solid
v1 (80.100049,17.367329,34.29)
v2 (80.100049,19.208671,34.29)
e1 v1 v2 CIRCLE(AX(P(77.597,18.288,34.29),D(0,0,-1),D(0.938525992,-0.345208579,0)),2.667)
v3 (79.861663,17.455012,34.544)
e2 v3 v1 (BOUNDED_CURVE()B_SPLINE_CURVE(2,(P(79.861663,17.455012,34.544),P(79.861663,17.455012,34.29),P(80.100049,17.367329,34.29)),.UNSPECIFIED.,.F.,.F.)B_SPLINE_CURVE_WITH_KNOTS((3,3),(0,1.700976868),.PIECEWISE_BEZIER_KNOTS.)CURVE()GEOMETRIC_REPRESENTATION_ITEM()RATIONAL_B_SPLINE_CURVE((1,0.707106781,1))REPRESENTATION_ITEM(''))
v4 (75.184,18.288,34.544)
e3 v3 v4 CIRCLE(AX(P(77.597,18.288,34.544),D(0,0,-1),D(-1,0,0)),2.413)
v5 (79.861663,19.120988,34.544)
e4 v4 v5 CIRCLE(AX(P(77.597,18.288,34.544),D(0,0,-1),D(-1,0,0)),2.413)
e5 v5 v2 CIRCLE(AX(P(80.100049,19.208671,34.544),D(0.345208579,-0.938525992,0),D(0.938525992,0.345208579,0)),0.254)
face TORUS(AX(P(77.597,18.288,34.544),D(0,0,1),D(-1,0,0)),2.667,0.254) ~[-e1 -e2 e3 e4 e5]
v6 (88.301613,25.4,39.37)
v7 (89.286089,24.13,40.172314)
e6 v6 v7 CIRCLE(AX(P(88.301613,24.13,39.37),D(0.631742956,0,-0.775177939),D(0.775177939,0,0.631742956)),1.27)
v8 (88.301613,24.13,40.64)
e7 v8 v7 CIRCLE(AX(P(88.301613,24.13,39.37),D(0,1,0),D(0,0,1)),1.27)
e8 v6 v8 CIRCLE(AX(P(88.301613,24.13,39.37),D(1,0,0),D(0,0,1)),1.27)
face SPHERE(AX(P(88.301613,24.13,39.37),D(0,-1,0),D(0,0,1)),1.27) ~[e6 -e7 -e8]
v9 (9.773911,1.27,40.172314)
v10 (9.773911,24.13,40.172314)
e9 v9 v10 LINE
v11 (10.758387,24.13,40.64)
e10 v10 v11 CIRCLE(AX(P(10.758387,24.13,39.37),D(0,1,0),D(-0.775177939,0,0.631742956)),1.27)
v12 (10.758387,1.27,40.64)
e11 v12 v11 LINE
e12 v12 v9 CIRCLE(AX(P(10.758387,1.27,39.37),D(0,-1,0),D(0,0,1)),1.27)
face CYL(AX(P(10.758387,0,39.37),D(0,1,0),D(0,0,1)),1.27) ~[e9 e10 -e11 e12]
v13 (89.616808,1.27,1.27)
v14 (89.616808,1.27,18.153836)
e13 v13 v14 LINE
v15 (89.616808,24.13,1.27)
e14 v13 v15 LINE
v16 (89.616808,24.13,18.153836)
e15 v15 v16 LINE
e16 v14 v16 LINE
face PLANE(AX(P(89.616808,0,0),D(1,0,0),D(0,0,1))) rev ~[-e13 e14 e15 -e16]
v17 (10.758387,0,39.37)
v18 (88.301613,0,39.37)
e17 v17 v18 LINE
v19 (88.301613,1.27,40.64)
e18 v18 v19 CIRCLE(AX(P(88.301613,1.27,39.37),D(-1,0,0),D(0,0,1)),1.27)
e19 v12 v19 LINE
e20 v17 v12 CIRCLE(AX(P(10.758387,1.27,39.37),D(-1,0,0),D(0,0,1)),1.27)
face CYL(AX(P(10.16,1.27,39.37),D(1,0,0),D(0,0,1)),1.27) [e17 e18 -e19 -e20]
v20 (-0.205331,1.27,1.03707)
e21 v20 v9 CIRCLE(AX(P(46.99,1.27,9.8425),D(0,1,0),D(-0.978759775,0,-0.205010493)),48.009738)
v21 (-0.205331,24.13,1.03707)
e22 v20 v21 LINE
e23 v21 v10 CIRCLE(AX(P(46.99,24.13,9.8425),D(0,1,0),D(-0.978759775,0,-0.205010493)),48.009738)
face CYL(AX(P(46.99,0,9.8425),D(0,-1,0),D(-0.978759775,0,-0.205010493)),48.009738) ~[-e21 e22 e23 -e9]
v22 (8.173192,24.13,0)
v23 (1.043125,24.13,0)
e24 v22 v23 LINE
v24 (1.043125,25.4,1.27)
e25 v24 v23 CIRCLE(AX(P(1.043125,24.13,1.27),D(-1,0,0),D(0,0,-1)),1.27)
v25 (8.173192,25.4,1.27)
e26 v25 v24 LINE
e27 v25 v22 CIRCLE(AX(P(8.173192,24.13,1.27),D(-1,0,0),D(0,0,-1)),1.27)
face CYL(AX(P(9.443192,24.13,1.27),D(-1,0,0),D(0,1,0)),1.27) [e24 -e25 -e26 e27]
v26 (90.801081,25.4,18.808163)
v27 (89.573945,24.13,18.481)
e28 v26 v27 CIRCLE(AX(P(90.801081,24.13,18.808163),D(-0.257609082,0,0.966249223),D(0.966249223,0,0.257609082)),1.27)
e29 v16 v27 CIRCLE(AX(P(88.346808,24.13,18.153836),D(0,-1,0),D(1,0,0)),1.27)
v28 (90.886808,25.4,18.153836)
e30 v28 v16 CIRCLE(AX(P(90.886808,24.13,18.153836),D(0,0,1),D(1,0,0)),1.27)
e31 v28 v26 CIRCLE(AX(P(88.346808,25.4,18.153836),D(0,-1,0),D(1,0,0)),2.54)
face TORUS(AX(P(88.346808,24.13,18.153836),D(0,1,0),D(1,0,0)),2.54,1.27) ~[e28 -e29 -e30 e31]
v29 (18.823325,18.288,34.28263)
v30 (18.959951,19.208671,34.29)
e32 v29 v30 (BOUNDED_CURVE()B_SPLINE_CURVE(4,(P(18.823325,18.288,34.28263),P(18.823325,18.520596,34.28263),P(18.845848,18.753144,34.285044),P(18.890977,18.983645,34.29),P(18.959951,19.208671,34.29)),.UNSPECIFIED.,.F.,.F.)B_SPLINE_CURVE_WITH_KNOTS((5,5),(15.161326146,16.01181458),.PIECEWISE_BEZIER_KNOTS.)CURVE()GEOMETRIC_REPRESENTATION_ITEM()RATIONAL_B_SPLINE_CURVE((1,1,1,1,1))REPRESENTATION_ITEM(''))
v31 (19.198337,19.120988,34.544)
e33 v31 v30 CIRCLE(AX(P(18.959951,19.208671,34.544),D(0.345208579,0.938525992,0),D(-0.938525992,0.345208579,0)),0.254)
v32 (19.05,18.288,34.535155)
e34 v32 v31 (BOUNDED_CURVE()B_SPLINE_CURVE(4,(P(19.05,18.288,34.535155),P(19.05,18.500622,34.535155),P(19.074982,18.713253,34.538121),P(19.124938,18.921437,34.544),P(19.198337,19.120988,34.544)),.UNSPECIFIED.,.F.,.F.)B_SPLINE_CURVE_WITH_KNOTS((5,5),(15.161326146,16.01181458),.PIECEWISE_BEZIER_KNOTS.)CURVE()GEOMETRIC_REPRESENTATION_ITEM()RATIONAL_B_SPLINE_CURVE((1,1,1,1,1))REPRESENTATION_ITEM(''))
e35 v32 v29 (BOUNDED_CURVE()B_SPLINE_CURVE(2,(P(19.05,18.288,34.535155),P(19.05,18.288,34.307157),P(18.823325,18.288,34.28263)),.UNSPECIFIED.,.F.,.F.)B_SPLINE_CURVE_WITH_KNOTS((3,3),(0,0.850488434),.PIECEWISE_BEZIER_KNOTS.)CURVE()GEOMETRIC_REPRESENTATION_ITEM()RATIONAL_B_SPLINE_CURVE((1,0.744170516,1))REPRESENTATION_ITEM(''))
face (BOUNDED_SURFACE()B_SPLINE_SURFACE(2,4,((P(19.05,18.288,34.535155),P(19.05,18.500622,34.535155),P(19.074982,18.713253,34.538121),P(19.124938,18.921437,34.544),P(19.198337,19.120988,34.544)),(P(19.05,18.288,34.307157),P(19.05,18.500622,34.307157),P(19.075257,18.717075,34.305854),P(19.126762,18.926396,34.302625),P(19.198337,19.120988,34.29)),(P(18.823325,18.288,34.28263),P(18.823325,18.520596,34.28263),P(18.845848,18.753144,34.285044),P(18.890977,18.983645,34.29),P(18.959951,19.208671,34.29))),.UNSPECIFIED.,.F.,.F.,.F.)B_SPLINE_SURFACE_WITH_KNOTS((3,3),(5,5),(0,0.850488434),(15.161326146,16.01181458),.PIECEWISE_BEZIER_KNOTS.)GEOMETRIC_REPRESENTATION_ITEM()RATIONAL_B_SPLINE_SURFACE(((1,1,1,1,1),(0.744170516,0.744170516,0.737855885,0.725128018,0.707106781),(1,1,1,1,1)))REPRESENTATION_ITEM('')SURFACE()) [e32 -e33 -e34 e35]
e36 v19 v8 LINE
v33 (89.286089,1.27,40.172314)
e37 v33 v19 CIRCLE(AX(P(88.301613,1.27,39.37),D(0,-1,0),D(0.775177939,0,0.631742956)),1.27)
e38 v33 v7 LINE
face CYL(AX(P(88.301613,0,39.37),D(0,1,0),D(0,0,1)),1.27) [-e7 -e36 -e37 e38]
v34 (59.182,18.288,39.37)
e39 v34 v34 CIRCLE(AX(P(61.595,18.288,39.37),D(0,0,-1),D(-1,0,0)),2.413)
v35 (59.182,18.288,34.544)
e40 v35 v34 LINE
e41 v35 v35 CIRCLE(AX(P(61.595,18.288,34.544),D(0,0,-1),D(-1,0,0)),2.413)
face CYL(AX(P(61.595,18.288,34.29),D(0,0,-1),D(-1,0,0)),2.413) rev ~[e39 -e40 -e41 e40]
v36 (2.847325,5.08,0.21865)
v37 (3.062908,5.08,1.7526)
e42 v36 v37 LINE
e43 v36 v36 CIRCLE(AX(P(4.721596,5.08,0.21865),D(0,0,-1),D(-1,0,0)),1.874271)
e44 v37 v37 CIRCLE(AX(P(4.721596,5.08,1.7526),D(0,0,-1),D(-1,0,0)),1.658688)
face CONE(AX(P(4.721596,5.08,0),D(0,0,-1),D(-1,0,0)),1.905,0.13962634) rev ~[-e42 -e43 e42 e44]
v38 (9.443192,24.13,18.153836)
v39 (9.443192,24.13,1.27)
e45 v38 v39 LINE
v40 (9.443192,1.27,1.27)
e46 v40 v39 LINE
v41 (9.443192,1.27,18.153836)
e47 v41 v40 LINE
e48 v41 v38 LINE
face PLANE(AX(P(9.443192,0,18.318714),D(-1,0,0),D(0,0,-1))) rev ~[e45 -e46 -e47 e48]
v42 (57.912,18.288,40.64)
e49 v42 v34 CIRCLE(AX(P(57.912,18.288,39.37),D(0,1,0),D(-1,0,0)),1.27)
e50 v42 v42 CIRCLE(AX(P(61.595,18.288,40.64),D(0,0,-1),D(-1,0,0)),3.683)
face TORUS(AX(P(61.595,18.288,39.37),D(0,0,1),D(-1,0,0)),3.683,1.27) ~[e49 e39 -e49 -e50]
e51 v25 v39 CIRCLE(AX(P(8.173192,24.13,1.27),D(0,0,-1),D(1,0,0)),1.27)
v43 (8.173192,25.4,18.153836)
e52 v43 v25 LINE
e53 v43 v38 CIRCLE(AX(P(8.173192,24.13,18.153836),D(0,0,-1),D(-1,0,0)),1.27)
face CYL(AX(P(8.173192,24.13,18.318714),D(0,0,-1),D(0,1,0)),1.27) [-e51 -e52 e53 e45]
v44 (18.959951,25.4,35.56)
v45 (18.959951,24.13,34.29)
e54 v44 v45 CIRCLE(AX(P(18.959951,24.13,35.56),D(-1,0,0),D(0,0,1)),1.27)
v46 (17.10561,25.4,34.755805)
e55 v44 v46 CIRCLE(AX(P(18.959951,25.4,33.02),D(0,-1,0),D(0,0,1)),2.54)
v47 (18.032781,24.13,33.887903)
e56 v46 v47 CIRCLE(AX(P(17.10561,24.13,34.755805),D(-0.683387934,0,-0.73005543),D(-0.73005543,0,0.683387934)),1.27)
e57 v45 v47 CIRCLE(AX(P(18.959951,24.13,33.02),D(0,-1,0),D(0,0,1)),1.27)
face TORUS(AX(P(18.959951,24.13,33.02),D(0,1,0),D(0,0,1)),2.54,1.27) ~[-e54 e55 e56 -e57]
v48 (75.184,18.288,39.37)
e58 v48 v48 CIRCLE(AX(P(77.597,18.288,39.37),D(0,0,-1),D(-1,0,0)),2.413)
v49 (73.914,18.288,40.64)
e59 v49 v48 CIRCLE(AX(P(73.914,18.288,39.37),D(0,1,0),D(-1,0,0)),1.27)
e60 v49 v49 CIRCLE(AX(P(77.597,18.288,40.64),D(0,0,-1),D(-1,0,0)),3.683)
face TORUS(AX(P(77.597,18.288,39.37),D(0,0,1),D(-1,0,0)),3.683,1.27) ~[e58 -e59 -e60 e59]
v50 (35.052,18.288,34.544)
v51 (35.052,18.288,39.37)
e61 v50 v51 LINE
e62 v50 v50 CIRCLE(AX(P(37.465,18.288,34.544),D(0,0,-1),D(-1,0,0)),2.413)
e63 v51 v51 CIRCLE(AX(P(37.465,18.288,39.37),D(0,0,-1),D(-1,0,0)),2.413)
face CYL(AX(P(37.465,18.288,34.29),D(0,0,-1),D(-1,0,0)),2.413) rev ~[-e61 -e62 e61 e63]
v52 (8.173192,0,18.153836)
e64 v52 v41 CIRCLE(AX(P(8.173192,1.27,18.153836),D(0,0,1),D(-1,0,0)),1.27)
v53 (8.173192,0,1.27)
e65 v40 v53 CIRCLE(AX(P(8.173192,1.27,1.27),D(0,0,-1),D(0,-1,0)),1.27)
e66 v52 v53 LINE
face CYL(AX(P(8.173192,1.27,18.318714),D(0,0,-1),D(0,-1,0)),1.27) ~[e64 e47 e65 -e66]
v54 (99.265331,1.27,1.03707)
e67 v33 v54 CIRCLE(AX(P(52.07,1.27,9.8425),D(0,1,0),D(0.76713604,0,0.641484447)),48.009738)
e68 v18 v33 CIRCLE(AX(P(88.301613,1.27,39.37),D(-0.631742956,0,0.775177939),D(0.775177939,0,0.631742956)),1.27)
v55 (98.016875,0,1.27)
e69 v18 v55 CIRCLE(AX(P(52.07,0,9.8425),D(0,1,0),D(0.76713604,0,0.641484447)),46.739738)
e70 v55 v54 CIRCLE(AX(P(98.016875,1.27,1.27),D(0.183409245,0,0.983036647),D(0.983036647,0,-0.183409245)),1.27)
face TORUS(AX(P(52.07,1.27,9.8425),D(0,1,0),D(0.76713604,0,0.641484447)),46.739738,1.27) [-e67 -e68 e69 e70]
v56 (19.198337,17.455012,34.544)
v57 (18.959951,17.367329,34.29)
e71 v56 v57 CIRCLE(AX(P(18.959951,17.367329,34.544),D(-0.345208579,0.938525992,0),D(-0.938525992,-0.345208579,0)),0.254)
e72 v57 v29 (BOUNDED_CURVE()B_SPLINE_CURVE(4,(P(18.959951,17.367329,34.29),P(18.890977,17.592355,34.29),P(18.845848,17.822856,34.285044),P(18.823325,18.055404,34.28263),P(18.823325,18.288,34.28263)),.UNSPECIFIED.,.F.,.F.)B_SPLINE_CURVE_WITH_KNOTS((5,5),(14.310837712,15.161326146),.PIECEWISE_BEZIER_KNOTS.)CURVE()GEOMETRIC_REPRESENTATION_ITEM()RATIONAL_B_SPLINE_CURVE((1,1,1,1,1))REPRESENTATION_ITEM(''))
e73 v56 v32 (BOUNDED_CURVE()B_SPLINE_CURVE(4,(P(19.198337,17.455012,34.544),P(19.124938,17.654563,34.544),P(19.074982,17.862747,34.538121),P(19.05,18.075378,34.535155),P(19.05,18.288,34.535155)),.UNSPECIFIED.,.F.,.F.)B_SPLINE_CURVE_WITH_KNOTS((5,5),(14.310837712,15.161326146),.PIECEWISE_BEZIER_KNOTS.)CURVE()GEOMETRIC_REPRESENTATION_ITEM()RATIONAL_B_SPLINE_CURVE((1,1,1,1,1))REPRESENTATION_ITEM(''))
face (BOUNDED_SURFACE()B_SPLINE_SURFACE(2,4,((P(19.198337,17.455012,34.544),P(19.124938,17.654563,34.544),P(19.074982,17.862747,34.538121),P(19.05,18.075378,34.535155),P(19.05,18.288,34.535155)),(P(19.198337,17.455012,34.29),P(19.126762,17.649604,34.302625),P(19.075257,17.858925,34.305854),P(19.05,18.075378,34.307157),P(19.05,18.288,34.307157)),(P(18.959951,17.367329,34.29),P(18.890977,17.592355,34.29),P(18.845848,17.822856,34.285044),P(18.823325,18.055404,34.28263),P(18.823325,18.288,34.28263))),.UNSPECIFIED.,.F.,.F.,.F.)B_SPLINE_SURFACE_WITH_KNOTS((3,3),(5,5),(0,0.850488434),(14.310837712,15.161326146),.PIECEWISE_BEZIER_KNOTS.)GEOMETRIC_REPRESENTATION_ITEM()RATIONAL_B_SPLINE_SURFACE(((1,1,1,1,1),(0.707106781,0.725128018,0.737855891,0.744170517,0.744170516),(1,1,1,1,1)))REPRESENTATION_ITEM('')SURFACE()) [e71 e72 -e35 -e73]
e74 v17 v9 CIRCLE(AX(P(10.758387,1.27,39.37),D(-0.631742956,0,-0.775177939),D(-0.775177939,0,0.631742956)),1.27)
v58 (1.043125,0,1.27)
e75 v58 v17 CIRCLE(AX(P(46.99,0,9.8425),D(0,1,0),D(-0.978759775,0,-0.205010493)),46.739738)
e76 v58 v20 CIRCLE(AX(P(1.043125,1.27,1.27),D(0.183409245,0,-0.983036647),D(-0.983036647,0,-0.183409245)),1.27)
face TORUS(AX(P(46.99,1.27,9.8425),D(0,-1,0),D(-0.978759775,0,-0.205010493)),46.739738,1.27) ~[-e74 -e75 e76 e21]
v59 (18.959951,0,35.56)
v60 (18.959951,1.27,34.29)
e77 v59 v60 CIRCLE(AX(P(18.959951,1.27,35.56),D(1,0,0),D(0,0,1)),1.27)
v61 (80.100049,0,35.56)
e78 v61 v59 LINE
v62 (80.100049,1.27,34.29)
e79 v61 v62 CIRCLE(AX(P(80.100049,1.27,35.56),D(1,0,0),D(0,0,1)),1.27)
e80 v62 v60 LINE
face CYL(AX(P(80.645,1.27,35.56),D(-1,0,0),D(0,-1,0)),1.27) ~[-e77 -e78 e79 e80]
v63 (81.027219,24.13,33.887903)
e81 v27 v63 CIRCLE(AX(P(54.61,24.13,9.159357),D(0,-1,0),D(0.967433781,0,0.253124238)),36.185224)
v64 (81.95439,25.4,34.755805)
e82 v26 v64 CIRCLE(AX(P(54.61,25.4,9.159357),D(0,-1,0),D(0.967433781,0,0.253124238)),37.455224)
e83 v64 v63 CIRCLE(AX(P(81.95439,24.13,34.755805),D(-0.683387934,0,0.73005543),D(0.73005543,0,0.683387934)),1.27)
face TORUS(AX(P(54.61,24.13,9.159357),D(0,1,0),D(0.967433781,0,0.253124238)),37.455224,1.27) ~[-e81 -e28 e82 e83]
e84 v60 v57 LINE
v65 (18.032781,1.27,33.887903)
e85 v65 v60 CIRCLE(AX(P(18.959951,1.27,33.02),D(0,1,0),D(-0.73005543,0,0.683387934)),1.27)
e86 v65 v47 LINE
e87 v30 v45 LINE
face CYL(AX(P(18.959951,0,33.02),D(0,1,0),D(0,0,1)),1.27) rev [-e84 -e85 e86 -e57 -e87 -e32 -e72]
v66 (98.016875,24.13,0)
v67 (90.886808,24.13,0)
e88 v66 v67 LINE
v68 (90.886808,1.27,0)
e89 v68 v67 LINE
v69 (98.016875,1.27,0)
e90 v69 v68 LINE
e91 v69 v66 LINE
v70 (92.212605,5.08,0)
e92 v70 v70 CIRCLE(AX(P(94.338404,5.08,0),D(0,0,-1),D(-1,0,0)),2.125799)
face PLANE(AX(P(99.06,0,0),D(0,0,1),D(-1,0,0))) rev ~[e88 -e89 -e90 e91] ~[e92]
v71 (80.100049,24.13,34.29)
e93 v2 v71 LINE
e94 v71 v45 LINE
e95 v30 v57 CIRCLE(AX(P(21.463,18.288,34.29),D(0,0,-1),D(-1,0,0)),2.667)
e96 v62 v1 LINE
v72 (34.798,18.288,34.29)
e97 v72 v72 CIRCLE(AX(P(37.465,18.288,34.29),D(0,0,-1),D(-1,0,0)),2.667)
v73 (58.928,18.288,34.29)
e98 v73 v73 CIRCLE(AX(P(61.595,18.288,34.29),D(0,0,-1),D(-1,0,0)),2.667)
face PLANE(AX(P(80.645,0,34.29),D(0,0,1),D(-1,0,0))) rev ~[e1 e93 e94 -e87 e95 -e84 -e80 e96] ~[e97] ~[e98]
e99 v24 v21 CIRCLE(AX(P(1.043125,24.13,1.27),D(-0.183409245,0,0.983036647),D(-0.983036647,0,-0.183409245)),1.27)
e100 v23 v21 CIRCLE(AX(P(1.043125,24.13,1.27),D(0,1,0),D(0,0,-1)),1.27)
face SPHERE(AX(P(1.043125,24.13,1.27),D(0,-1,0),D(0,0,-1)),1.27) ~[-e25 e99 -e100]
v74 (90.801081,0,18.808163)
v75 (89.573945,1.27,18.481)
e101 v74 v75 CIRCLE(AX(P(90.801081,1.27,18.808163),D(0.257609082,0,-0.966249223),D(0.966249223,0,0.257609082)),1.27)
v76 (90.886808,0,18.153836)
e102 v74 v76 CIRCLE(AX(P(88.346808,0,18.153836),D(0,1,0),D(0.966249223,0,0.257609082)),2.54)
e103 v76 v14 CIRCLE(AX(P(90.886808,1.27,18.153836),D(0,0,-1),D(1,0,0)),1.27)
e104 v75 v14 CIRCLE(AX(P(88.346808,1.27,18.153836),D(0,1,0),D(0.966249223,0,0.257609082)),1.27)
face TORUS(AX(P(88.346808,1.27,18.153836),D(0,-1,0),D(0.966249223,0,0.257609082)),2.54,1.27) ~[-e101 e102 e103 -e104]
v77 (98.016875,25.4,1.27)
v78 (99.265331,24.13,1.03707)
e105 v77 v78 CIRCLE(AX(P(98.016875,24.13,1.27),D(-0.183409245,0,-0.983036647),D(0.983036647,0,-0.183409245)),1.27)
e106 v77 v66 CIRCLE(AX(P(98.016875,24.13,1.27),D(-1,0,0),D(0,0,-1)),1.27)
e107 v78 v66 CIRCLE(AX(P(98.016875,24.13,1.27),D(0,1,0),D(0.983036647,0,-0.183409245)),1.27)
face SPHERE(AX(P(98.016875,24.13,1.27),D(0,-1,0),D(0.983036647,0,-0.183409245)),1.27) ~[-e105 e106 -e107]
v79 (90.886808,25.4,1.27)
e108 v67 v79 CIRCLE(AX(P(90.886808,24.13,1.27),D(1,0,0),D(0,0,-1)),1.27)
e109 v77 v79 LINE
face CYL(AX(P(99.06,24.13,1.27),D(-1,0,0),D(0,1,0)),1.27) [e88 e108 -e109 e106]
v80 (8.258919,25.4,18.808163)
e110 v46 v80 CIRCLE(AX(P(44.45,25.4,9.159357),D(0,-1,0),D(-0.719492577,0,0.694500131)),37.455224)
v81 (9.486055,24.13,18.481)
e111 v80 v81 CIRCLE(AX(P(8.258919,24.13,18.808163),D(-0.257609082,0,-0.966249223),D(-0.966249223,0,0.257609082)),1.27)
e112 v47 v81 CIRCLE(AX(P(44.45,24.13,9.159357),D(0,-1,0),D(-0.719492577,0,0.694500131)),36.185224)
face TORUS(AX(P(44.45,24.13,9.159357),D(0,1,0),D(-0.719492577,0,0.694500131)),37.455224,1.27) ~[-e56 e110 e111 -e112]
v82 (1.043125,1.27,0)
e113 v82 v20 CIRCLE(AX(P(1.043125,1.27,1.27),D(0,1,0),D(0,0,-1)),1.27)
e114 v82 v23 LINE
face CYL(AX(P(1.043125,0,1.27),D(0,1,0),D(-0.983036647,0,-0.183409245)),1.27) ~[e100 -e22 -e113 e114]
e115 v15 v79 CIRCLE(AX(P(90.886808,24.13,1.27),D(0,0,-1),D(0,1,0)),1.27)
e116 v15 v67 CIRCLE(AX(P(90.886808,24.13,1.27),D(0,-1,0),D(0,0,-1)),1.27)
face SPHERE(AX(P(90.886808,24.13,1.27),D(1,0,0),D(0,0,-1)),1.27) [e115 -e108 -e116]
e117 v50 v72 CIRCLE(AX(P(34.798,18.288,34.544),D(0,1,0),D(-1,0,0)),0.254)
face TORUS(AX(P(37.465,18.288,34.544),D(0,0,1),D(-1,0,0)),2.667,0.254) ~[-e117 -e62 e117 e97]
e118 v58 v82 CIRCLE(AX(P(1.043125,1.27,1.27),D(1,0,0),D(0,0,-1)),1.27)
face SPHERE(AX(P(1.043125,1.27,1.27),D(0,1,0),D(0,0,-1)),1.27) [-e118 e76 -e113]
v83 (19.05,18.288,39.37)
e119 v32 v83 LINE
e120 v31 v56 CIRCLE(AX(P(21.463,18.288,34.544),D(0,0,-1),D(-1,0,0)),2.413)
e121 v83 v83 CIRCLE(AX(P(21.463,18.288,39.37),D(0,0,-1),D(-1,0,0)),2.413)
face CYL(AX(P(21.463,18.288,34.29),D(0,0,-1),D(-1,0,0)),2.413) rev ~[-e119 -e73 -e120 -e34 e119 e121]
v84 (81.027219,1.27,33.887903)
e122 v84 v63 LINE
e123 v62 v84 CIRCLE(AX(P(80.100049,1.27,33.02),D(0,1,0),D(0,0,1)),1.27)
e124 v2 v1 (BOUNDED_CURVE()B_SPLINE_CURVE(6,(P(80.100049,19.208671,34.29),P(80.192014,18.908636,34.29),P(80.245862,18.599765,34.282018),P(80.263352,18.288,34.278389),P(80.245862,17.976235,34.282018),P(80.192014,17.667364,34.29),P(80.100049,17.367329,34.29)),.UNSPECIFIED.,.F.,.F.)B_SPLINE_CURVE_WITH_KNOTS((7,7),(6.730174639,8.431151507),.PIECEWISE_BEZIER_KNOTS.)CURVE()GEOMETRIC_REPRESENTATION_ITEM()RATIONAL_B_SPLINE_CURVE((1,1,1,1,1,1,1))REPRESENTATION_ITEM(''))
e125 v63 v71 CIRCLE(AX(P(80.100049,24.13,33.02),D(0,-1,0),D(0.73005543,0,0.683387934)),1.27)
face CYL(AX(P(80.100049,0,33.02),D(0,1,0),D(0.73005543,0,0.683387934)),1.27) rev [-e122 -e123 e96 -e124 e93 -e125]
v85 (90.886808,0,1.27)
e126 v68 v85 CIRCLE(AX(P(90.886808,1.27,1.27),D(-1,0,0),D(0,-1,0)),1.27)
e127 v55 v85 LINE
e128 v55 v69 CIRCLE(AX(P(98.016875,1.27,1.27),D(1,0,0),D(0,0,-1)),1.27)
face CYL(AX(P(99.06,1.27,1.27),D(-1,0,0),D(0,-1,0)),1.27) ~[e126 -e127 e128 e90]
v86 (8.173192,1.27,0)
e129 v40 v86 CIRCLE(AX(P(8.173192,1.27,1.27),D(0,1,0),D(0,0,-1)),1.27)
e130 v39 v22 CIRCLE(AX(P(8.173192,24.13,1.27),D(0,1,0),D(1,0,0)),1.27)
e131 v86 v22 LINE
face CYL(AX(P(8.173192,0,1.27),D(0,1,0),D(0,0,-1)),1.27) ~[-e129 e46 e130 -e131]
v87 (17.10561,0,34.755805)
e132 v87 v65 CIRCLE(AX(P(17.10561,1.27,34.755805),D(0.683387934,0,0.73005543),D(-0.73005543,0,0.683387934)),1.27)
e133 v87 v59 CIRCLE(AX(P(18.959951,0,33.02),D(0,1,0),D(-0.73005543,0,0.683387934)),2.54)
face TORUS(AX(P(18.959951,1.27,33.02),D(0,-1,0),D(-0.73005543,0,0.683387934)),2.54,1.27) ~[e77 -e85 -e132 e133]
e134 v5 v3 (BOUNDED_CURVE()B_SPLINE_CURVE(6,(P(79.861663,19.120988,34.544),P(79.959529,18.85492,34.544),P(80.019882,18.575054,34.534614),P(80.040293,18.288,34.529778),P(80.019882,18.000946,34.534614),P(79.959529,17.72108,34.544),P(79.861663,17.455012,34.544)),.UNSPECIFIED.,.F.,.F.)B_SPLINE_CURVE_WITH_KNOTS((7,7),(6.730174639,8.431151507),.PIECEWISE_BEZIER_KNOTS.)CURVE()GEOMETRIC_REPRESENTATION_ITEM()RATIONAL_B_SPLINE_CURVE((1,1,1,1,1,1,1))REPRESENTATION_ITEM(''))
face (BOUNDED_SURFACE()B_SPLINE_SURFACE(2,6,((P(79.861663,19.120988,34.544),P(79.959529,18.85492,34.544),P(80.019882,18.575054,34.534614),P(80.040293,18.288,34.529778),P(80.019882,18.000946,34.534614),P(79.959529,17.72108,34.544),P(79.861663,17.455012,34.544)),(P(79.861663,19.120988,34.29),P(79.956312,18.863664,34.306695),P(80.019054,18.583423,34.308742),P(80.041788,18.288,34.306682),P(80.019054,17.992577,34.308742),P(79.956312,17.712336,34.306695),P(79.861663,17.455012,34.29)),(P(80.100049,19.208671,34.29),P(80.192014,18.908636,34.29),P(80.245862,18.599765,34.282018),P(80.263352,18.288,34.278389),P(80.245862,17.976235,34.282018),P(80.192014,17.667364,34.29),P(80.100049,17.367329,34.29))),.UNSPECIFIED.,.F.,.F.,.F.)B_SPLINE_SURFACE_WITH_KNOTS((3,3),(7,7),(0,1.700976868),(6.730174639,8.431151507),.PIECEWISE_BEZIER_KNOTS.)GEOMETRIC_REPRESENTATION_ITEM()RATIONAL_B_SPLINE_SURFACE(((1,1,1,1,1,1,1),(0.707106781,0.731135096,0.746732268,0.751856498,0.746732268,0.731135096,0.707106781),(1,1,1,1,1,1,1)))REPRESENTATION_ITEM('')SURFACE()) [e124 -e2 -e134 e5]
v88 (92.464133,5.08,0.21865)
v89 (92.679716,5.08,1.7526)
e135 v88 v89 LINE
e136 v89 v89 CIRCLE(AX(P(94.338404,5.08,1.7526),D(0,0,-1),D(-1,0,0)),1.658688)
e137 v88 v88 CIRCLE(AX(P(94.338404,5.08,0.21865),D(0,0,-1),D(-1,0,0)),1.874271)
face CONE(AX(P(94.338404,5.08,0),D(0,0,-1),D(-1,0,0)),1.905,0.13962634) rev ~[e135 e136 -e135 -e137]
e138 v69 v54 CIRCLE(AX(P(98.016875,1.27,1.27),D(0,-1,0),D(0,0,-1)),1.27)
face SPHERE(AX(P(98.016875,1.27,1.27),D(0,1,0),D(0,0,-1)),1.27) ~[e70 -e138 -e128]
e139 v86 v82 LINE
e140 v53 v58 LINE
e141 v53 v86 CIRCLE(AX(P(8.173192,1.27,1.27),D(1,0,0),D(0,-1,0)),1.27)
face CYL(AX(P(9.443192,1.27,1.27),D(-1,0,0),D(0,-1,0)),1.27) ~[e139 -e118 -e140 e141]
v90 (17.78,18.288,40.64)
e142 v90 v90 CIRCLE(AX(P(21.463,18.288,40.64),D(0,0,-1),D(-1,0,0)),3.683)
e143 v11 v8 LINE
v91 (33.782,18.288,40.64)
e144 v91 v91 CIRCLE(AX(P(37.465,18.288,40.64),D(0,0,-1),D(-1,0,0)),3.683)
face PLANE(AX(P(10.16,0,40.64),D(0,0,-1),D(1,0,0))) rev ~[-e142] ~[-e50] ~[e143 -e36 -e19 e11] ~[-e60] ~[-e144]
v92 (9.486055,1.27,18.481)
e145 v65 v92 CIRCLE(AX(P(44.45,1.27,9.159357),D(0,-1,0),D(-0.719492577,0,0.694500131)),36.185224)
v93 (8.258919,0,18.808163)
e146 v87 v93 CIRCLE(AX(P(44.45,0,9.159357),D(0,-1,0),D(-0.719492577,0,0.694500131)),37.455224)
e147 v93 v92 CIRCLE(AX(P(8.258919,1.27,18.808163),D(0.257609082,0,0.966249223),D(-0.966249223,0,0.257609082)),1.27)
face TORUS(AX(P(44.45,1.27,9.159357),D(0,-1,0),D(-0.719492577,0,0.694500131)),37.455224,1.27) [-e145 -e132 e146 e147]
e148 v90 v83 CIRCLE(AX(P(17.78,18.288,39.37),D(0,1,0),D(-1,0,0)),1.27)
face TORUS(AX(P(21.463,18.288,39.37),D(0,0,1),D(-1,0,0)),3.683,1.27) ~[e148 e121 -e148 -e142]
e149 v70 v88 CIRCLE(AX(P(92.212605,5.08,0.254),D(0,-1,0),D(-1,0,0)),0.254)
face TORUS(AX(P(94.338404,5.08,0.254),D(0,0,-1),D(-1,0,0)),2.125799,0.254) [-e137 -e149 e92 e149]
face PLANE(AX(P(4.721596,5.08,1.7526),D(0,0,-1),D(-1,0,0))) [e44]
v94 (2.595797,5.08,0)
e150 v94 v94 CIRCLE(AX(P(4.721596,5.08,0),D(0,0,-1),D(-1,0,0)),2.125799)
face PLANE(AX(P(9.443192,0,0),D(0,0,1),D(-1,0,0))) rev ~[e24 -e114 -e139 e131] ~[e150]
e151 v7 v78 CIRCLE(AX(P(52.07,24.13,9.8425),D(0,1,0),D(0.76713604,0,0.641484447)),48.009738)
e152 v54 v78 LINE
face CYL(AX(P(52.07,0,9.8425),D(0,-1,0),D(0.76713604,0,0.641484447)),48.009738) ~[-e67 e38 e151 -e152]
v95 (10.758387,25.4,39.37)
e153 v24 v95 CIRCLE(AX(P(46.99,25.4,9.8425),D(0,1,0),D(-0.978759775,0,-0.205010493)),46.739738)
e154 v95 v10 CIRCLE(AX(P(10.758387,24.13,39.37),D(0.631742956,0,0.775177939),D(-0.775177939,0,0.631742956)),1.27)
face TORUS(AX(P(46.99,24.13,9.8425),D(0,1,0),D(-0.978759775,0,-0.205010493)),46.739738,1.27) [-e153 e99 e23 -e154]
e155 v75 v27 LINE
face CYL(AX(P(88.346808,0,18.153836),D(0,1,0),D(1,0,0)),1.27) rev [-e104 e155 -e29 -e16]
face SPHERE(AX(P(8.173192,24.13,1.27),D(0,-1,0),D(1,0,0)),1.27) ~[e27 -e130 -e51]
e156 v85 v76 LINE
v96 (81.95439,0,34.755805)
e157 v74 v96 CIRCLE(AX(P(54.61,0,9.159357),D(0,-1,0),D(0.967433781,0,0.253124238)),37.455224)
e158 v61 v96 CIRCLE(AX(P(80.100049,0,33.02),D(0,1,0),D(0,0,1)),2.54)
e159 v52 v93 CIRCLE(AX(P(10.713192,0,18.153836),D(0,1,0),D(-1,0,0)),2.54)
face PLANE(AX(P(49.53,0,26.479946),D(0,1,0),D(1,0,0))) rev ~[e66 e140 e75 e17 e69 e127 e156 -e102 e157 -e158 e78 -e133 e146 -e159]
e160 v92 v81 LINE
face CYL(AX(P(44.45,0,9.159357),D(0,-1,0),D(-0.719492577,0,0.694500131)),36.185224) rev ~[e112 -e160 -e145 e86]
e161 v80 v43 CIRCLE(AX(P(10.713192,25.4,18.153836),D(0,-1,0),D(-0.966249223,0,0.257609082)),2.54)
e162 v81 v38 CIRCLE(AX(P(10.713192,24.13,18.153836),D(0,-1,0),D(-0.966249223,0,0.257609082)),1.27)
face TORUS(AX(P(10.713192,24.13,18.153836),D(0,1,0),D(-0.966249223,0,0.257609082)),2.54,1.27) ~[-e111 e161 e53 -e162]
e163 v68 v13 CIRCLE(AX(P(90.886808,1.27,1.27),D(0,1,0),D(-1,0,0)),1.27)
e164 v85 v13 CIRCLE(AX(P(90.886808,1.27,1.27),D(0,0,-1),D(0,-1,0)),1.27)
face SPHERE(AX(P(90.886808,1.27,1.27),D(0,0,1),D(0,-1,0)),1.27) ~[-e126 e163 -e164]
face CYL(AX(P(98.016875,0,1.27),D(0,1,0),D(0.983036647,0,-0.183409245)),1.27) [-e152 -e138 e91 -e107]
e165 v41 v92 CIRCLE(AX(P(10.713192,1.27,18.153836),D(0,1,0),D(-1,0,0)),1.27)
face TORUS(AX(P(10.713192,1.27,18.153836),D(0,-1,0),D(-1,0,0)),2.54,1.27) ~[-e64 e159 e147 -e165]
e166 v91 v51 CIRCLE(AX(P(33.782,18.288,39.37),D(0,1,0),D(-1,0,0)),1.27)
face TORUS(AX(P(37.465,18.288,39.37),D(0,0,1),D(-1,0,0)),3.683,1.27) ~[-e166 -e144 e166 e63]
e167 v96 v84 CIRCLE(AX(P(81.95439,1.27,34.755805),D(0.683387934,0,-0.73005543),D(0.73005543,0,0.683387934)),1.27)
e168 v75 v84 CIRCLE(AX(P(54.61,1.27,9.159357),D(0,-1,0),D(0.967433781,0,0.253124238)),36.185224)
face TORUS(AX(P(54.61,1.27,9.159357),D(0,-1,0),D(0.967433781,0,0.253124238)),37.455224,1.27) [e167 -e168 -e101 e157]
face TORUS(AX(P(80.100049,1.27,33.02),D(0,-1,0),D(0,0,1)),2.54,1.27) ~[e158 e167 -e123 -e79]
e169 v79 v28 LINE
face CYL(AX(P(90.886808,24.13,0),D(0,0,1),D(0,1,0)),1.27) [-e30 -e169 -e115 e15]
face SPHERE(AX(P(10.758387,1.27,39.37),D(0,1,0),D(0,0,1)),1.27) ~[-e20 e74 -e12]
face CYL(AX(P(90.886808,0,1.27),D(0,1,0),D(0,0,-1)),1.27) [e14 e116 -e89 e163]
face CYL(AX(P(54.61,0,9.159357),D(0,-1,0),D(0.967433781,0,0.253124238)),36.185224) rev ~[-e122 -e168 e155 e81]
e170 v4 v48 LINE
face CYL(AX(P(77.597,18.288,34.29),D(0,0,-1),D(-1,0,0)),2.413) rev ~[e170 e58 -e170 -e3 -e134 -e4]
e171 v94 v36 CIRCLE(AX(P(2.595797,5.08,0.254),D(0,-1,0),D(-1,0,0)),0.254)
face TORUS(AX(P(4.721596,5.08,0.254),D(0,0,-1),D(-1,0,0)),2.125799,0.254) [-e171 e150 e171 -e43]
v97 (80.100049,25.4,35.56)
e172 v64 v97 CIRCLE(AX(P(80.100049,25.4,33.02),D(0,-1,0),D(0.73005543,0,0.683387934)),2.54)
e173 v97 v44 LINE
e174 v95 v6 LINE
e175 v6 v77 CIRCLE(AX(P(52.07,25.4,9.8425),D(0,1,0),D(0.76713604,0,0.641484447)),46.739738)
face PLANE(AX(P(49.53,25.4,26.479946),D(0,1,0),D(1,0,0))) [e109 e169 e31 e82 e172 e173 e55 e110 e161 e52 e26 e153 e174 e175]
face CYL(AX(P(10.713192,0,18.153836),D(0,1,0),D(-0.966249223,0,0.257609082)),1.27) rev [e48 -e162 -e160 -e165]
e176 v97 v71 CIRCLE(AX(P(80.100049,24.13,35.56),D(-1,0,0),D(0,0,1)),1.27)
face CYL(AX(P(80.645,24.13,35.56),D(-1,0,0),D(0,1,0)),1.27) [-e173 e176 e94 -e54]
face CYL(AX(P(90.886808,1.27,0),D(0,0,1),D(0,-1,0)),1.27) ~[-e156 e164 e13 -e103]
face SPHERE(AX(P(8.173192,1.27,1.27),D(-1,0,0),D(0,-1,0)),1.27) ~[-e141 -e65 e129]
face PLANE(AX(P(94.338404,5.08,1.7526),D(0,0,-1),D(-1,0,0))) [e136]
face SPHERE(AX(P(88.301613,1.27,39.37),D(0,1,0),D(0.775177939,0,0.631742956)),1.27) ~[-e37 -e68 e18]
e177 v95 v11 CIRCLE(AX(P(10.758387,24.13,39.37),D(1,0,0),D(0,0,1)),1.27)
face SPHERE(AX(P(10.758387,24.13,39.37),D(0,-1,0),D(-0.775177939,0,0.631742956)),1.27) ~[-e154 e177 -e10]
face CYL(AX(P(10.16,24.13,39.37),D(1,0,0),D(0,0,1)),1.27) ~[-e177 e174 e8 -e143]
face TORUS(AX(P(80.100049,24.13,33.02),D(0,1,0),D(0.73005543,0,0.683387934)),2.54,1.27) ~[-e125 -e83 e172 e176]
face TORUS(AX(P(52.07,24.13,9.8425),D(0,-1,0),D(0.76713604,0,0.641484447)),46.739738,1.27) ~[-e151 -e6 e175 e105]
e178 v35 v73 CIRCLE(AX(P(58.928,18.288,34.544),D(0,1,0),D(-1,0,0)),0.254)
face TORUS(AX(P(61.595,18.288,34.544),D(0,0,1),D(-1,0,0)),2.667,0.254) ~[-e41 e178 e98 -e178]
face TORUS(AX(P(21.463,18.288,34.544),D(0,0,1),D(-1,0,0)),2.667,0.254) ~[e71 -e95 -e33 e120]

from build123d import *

# Parameters (mm, degrees)
BOSS_EXTRUDE1_DEPTH = 25.4
SKETCH2_R           = 2.413
CUT_EXTRUDE1_DEPTH  = 109.797600993
SKETCH4_R           = 1.905
CUT_EXTRUDE3_DEPTH  = 1.7526
CUT_EXTRUDE3_DRAFT  = -8
SKETCH3_R           = 1.905
CUT_EXTRUDE4_DEPTH  = 1.7526
CUT_EXTRUDE4_DRAFT  = -8
FILLET6_R           = 1.27
FILLET7_R           = 0.254


with BuildPart() as part:
    # Sketch1 → Boss-Extrude1 (new body)
    with BuildSketch(Plane(origin=(0, 0, 0), x_dir=(1, 0, 0), z_dir=(0, 1, 0))):
        with BuildLine():
            Line((10.16, -40.64), (88.9, -40.64))
            ThreePointArc((88.9, -40.64), (98.646286885, -21.486571721), (99.06, 0))
            Line((99.06, 0), (89.616807991, 0))
            Line((89.616807991, 0), (89.616807991, -18.318714474))
            ThreePointArc((89.616807991, -18.318714474), (86.158313283, -26.881500438), (80.645, -34.29))
            Line((80.645, -34.29), (18.415, -34.29))
            ThreePointArc((18.415, -34.29), (12.901686717, -26.881500438), (9.443192009, -18.318714474))
            Line((9.443192009, -18.318714474), (9.443192009, 0))
            Line((9.443192009, 0), (0, 0))
            ThreePointArc((0, 0), (0.413713115, -21.486571721), (10.16, -40.64))
        make_face()
    extrude(amount=BOSS_EXTRUDE1_DEPTH)

    # Sketch2 → Cut-Extrude1 (cut, through all)
    with BuildSketch(Plane(origin=(0, 0, 34.29), x_dir=(-1, 0, 0), z_dir=(0, 0, -1))):
        with Locations((-77.597, 18.288)):
            Circle(SKETCH2_R)
        with Locations((-21.463, 18.288)):
            Circle(SKETCH2_R)
        with Locations((-61.595, 18.288)):
            Circle(SKETCH2_R)
        with Locations((-37.465, 18.288)):
            Circle(SKETCH2_R)
    extrude(amount=-CUT_EXTRUDE1_DEPTH, mode=Mode.SUBTRACT)


with BuildPart() as cut_extrude3_tool:
    # Sketch4 → Cut-Extrude3 (with draft: the straight prism first)
    with BuildSketch(Plane(origin=(0, 0, 0), x_dir=(-1, 0, 0), z_dir=(0, 0, -1))):
        with Locations((-94.338403995, 5.08)):
            Circle(SKETCH4_R)
    extrude(amount=-CUT_EXTRUDE3_DEPTH)
    # Cut-Extrude3: the draft: its side faces are tilted about the plane it starts from
    cut_extrude3_sides = [cut_extrude3_tool.faces().sort_by_distance(p)[0] for p in [
        (96.243403995, 5.08, 0.8763),
    ]]
    draft(cut_extrude3_sides, Plane(origin=(0, 0, 0), x_dir=(-1, 0, 0), z_dir=(0, 0, -1)), CUT_EXTRUDE3_DRAFT)


with BuildPart() as part_1:
    add(part.part)

    # Cut-Extrude3: cut by cut_extrude3_tool
    add(cut_extrude3_tool.part, mode=Mode.SUBTRACT)


with BuildPart() as cut_extrude4_tool:
    # Sketch3 → Cut-Extrude4 (with draft: the straight prism first)
    with BuildSketch(Plane(origin=(0, 0, 0), x_dir=(-1, 0, 0), z_dir=(0, 0, -1))):
        with Locations((-4.721596005, 5.08)):
            Circle(SKETCH3_R)
    extrude(amount=-CUT_EXTRUDE4_DEPTH)
    # Cut-Extrude4: the draft: its side faces are tilted about the plane it starts from
    cut_extrude4_sides = [cut_extrude4_tool.faces().sort_by_distance(p)[0] for p in [
        (6.626596005, 5.08, 0.8763),
    ]]
    draft(cut_extrude4_sides, Plane(origin=(0, 0, 0), x_dir=(-1, 0, 0), z_dir=(0, 0, -1)), CUT_EXTRUDE4_DRAFT)


with BuildPart() as part_2:
    add(part_1.part)

    # Cut-Extrude4: cut by cut_extrude4_tool
    add(cut_extrude4_tool.part, mode=Mode.SUBTRACT)

    # Fillet6
    fillet6_edges = [part_2.edges().sort_by_distance(p)[0] for p in [
        (4.721596005, 0, 0),
        (9.443192009, 0, 9.159357237),
        (12.901686717, 0, 26.881500438),
        (49.53, 0, 34.29),
        (86.158313283, 0, 26.881500438),
        (89.616807991, 0, 9.159357237),
        (94.338403995, 0, 0),
        (98.646286885, 25.4, 21.486571721),
        (98.646286885, 0, 21.486571721),
        (49.53, 0, 40.64),
        (0.413713115, 0, 21.486571721),
        (94.338403995, 25.4, 0),
        (0, 12.7, 0),
        (9.443192009, 12.7, 0),
        (9.443192009, 12.7, 18.318714474),
        (18.415, 12.7, 34.29),
        (80.645, 12.7, 34.29),
        (89.616807991, 12.7, 18.318714474),
        (89.616807991, 12.7, 0),
        (99.06, 12.7, 0),
        (88.9, 12.7, 40.64),
        (10.16, 12.7, 40.64),
        (89.616807991, 25.4, 9.159357237),
        (86.158313283, 25.4, 26.881500438),
        (49.53, 25.4, 34.29),
        (12.901686717, 25.4, 26.881500438),
        (80.01, 18.288, 40.64),
        (64.008, 18.288, 40.64),
        (9.443192009, 25.4, 9.159357237),
        (39.878, 18.288, 40.64),
        (23.876, 18.288, 40.64),
        (4.721596005, 25.4, 0),
        (0.413713115, 25.4, 21.486571721),
        (49.53, 25.4, 40.64),
    ]]
    fillet(fillet6_edges, radius=FILLET6_R)

    # Fillet7
    fillet7_edges = [part_2.edges().sort_by_distance(p)[0] for p in [
        (80.01, 18.288, 34.29),
        (64.008, 18.288, 34.29),
        (39.878, 18.288, 34.29),
        (23.876, 18.288, 34.29),
        (96.243403995, 5.08, 0),
        (6.626596005, 5.08, 0),
    ]]
    fillet(fillet7_edges, radius=FILLET7_R)


solid = part_2.part
